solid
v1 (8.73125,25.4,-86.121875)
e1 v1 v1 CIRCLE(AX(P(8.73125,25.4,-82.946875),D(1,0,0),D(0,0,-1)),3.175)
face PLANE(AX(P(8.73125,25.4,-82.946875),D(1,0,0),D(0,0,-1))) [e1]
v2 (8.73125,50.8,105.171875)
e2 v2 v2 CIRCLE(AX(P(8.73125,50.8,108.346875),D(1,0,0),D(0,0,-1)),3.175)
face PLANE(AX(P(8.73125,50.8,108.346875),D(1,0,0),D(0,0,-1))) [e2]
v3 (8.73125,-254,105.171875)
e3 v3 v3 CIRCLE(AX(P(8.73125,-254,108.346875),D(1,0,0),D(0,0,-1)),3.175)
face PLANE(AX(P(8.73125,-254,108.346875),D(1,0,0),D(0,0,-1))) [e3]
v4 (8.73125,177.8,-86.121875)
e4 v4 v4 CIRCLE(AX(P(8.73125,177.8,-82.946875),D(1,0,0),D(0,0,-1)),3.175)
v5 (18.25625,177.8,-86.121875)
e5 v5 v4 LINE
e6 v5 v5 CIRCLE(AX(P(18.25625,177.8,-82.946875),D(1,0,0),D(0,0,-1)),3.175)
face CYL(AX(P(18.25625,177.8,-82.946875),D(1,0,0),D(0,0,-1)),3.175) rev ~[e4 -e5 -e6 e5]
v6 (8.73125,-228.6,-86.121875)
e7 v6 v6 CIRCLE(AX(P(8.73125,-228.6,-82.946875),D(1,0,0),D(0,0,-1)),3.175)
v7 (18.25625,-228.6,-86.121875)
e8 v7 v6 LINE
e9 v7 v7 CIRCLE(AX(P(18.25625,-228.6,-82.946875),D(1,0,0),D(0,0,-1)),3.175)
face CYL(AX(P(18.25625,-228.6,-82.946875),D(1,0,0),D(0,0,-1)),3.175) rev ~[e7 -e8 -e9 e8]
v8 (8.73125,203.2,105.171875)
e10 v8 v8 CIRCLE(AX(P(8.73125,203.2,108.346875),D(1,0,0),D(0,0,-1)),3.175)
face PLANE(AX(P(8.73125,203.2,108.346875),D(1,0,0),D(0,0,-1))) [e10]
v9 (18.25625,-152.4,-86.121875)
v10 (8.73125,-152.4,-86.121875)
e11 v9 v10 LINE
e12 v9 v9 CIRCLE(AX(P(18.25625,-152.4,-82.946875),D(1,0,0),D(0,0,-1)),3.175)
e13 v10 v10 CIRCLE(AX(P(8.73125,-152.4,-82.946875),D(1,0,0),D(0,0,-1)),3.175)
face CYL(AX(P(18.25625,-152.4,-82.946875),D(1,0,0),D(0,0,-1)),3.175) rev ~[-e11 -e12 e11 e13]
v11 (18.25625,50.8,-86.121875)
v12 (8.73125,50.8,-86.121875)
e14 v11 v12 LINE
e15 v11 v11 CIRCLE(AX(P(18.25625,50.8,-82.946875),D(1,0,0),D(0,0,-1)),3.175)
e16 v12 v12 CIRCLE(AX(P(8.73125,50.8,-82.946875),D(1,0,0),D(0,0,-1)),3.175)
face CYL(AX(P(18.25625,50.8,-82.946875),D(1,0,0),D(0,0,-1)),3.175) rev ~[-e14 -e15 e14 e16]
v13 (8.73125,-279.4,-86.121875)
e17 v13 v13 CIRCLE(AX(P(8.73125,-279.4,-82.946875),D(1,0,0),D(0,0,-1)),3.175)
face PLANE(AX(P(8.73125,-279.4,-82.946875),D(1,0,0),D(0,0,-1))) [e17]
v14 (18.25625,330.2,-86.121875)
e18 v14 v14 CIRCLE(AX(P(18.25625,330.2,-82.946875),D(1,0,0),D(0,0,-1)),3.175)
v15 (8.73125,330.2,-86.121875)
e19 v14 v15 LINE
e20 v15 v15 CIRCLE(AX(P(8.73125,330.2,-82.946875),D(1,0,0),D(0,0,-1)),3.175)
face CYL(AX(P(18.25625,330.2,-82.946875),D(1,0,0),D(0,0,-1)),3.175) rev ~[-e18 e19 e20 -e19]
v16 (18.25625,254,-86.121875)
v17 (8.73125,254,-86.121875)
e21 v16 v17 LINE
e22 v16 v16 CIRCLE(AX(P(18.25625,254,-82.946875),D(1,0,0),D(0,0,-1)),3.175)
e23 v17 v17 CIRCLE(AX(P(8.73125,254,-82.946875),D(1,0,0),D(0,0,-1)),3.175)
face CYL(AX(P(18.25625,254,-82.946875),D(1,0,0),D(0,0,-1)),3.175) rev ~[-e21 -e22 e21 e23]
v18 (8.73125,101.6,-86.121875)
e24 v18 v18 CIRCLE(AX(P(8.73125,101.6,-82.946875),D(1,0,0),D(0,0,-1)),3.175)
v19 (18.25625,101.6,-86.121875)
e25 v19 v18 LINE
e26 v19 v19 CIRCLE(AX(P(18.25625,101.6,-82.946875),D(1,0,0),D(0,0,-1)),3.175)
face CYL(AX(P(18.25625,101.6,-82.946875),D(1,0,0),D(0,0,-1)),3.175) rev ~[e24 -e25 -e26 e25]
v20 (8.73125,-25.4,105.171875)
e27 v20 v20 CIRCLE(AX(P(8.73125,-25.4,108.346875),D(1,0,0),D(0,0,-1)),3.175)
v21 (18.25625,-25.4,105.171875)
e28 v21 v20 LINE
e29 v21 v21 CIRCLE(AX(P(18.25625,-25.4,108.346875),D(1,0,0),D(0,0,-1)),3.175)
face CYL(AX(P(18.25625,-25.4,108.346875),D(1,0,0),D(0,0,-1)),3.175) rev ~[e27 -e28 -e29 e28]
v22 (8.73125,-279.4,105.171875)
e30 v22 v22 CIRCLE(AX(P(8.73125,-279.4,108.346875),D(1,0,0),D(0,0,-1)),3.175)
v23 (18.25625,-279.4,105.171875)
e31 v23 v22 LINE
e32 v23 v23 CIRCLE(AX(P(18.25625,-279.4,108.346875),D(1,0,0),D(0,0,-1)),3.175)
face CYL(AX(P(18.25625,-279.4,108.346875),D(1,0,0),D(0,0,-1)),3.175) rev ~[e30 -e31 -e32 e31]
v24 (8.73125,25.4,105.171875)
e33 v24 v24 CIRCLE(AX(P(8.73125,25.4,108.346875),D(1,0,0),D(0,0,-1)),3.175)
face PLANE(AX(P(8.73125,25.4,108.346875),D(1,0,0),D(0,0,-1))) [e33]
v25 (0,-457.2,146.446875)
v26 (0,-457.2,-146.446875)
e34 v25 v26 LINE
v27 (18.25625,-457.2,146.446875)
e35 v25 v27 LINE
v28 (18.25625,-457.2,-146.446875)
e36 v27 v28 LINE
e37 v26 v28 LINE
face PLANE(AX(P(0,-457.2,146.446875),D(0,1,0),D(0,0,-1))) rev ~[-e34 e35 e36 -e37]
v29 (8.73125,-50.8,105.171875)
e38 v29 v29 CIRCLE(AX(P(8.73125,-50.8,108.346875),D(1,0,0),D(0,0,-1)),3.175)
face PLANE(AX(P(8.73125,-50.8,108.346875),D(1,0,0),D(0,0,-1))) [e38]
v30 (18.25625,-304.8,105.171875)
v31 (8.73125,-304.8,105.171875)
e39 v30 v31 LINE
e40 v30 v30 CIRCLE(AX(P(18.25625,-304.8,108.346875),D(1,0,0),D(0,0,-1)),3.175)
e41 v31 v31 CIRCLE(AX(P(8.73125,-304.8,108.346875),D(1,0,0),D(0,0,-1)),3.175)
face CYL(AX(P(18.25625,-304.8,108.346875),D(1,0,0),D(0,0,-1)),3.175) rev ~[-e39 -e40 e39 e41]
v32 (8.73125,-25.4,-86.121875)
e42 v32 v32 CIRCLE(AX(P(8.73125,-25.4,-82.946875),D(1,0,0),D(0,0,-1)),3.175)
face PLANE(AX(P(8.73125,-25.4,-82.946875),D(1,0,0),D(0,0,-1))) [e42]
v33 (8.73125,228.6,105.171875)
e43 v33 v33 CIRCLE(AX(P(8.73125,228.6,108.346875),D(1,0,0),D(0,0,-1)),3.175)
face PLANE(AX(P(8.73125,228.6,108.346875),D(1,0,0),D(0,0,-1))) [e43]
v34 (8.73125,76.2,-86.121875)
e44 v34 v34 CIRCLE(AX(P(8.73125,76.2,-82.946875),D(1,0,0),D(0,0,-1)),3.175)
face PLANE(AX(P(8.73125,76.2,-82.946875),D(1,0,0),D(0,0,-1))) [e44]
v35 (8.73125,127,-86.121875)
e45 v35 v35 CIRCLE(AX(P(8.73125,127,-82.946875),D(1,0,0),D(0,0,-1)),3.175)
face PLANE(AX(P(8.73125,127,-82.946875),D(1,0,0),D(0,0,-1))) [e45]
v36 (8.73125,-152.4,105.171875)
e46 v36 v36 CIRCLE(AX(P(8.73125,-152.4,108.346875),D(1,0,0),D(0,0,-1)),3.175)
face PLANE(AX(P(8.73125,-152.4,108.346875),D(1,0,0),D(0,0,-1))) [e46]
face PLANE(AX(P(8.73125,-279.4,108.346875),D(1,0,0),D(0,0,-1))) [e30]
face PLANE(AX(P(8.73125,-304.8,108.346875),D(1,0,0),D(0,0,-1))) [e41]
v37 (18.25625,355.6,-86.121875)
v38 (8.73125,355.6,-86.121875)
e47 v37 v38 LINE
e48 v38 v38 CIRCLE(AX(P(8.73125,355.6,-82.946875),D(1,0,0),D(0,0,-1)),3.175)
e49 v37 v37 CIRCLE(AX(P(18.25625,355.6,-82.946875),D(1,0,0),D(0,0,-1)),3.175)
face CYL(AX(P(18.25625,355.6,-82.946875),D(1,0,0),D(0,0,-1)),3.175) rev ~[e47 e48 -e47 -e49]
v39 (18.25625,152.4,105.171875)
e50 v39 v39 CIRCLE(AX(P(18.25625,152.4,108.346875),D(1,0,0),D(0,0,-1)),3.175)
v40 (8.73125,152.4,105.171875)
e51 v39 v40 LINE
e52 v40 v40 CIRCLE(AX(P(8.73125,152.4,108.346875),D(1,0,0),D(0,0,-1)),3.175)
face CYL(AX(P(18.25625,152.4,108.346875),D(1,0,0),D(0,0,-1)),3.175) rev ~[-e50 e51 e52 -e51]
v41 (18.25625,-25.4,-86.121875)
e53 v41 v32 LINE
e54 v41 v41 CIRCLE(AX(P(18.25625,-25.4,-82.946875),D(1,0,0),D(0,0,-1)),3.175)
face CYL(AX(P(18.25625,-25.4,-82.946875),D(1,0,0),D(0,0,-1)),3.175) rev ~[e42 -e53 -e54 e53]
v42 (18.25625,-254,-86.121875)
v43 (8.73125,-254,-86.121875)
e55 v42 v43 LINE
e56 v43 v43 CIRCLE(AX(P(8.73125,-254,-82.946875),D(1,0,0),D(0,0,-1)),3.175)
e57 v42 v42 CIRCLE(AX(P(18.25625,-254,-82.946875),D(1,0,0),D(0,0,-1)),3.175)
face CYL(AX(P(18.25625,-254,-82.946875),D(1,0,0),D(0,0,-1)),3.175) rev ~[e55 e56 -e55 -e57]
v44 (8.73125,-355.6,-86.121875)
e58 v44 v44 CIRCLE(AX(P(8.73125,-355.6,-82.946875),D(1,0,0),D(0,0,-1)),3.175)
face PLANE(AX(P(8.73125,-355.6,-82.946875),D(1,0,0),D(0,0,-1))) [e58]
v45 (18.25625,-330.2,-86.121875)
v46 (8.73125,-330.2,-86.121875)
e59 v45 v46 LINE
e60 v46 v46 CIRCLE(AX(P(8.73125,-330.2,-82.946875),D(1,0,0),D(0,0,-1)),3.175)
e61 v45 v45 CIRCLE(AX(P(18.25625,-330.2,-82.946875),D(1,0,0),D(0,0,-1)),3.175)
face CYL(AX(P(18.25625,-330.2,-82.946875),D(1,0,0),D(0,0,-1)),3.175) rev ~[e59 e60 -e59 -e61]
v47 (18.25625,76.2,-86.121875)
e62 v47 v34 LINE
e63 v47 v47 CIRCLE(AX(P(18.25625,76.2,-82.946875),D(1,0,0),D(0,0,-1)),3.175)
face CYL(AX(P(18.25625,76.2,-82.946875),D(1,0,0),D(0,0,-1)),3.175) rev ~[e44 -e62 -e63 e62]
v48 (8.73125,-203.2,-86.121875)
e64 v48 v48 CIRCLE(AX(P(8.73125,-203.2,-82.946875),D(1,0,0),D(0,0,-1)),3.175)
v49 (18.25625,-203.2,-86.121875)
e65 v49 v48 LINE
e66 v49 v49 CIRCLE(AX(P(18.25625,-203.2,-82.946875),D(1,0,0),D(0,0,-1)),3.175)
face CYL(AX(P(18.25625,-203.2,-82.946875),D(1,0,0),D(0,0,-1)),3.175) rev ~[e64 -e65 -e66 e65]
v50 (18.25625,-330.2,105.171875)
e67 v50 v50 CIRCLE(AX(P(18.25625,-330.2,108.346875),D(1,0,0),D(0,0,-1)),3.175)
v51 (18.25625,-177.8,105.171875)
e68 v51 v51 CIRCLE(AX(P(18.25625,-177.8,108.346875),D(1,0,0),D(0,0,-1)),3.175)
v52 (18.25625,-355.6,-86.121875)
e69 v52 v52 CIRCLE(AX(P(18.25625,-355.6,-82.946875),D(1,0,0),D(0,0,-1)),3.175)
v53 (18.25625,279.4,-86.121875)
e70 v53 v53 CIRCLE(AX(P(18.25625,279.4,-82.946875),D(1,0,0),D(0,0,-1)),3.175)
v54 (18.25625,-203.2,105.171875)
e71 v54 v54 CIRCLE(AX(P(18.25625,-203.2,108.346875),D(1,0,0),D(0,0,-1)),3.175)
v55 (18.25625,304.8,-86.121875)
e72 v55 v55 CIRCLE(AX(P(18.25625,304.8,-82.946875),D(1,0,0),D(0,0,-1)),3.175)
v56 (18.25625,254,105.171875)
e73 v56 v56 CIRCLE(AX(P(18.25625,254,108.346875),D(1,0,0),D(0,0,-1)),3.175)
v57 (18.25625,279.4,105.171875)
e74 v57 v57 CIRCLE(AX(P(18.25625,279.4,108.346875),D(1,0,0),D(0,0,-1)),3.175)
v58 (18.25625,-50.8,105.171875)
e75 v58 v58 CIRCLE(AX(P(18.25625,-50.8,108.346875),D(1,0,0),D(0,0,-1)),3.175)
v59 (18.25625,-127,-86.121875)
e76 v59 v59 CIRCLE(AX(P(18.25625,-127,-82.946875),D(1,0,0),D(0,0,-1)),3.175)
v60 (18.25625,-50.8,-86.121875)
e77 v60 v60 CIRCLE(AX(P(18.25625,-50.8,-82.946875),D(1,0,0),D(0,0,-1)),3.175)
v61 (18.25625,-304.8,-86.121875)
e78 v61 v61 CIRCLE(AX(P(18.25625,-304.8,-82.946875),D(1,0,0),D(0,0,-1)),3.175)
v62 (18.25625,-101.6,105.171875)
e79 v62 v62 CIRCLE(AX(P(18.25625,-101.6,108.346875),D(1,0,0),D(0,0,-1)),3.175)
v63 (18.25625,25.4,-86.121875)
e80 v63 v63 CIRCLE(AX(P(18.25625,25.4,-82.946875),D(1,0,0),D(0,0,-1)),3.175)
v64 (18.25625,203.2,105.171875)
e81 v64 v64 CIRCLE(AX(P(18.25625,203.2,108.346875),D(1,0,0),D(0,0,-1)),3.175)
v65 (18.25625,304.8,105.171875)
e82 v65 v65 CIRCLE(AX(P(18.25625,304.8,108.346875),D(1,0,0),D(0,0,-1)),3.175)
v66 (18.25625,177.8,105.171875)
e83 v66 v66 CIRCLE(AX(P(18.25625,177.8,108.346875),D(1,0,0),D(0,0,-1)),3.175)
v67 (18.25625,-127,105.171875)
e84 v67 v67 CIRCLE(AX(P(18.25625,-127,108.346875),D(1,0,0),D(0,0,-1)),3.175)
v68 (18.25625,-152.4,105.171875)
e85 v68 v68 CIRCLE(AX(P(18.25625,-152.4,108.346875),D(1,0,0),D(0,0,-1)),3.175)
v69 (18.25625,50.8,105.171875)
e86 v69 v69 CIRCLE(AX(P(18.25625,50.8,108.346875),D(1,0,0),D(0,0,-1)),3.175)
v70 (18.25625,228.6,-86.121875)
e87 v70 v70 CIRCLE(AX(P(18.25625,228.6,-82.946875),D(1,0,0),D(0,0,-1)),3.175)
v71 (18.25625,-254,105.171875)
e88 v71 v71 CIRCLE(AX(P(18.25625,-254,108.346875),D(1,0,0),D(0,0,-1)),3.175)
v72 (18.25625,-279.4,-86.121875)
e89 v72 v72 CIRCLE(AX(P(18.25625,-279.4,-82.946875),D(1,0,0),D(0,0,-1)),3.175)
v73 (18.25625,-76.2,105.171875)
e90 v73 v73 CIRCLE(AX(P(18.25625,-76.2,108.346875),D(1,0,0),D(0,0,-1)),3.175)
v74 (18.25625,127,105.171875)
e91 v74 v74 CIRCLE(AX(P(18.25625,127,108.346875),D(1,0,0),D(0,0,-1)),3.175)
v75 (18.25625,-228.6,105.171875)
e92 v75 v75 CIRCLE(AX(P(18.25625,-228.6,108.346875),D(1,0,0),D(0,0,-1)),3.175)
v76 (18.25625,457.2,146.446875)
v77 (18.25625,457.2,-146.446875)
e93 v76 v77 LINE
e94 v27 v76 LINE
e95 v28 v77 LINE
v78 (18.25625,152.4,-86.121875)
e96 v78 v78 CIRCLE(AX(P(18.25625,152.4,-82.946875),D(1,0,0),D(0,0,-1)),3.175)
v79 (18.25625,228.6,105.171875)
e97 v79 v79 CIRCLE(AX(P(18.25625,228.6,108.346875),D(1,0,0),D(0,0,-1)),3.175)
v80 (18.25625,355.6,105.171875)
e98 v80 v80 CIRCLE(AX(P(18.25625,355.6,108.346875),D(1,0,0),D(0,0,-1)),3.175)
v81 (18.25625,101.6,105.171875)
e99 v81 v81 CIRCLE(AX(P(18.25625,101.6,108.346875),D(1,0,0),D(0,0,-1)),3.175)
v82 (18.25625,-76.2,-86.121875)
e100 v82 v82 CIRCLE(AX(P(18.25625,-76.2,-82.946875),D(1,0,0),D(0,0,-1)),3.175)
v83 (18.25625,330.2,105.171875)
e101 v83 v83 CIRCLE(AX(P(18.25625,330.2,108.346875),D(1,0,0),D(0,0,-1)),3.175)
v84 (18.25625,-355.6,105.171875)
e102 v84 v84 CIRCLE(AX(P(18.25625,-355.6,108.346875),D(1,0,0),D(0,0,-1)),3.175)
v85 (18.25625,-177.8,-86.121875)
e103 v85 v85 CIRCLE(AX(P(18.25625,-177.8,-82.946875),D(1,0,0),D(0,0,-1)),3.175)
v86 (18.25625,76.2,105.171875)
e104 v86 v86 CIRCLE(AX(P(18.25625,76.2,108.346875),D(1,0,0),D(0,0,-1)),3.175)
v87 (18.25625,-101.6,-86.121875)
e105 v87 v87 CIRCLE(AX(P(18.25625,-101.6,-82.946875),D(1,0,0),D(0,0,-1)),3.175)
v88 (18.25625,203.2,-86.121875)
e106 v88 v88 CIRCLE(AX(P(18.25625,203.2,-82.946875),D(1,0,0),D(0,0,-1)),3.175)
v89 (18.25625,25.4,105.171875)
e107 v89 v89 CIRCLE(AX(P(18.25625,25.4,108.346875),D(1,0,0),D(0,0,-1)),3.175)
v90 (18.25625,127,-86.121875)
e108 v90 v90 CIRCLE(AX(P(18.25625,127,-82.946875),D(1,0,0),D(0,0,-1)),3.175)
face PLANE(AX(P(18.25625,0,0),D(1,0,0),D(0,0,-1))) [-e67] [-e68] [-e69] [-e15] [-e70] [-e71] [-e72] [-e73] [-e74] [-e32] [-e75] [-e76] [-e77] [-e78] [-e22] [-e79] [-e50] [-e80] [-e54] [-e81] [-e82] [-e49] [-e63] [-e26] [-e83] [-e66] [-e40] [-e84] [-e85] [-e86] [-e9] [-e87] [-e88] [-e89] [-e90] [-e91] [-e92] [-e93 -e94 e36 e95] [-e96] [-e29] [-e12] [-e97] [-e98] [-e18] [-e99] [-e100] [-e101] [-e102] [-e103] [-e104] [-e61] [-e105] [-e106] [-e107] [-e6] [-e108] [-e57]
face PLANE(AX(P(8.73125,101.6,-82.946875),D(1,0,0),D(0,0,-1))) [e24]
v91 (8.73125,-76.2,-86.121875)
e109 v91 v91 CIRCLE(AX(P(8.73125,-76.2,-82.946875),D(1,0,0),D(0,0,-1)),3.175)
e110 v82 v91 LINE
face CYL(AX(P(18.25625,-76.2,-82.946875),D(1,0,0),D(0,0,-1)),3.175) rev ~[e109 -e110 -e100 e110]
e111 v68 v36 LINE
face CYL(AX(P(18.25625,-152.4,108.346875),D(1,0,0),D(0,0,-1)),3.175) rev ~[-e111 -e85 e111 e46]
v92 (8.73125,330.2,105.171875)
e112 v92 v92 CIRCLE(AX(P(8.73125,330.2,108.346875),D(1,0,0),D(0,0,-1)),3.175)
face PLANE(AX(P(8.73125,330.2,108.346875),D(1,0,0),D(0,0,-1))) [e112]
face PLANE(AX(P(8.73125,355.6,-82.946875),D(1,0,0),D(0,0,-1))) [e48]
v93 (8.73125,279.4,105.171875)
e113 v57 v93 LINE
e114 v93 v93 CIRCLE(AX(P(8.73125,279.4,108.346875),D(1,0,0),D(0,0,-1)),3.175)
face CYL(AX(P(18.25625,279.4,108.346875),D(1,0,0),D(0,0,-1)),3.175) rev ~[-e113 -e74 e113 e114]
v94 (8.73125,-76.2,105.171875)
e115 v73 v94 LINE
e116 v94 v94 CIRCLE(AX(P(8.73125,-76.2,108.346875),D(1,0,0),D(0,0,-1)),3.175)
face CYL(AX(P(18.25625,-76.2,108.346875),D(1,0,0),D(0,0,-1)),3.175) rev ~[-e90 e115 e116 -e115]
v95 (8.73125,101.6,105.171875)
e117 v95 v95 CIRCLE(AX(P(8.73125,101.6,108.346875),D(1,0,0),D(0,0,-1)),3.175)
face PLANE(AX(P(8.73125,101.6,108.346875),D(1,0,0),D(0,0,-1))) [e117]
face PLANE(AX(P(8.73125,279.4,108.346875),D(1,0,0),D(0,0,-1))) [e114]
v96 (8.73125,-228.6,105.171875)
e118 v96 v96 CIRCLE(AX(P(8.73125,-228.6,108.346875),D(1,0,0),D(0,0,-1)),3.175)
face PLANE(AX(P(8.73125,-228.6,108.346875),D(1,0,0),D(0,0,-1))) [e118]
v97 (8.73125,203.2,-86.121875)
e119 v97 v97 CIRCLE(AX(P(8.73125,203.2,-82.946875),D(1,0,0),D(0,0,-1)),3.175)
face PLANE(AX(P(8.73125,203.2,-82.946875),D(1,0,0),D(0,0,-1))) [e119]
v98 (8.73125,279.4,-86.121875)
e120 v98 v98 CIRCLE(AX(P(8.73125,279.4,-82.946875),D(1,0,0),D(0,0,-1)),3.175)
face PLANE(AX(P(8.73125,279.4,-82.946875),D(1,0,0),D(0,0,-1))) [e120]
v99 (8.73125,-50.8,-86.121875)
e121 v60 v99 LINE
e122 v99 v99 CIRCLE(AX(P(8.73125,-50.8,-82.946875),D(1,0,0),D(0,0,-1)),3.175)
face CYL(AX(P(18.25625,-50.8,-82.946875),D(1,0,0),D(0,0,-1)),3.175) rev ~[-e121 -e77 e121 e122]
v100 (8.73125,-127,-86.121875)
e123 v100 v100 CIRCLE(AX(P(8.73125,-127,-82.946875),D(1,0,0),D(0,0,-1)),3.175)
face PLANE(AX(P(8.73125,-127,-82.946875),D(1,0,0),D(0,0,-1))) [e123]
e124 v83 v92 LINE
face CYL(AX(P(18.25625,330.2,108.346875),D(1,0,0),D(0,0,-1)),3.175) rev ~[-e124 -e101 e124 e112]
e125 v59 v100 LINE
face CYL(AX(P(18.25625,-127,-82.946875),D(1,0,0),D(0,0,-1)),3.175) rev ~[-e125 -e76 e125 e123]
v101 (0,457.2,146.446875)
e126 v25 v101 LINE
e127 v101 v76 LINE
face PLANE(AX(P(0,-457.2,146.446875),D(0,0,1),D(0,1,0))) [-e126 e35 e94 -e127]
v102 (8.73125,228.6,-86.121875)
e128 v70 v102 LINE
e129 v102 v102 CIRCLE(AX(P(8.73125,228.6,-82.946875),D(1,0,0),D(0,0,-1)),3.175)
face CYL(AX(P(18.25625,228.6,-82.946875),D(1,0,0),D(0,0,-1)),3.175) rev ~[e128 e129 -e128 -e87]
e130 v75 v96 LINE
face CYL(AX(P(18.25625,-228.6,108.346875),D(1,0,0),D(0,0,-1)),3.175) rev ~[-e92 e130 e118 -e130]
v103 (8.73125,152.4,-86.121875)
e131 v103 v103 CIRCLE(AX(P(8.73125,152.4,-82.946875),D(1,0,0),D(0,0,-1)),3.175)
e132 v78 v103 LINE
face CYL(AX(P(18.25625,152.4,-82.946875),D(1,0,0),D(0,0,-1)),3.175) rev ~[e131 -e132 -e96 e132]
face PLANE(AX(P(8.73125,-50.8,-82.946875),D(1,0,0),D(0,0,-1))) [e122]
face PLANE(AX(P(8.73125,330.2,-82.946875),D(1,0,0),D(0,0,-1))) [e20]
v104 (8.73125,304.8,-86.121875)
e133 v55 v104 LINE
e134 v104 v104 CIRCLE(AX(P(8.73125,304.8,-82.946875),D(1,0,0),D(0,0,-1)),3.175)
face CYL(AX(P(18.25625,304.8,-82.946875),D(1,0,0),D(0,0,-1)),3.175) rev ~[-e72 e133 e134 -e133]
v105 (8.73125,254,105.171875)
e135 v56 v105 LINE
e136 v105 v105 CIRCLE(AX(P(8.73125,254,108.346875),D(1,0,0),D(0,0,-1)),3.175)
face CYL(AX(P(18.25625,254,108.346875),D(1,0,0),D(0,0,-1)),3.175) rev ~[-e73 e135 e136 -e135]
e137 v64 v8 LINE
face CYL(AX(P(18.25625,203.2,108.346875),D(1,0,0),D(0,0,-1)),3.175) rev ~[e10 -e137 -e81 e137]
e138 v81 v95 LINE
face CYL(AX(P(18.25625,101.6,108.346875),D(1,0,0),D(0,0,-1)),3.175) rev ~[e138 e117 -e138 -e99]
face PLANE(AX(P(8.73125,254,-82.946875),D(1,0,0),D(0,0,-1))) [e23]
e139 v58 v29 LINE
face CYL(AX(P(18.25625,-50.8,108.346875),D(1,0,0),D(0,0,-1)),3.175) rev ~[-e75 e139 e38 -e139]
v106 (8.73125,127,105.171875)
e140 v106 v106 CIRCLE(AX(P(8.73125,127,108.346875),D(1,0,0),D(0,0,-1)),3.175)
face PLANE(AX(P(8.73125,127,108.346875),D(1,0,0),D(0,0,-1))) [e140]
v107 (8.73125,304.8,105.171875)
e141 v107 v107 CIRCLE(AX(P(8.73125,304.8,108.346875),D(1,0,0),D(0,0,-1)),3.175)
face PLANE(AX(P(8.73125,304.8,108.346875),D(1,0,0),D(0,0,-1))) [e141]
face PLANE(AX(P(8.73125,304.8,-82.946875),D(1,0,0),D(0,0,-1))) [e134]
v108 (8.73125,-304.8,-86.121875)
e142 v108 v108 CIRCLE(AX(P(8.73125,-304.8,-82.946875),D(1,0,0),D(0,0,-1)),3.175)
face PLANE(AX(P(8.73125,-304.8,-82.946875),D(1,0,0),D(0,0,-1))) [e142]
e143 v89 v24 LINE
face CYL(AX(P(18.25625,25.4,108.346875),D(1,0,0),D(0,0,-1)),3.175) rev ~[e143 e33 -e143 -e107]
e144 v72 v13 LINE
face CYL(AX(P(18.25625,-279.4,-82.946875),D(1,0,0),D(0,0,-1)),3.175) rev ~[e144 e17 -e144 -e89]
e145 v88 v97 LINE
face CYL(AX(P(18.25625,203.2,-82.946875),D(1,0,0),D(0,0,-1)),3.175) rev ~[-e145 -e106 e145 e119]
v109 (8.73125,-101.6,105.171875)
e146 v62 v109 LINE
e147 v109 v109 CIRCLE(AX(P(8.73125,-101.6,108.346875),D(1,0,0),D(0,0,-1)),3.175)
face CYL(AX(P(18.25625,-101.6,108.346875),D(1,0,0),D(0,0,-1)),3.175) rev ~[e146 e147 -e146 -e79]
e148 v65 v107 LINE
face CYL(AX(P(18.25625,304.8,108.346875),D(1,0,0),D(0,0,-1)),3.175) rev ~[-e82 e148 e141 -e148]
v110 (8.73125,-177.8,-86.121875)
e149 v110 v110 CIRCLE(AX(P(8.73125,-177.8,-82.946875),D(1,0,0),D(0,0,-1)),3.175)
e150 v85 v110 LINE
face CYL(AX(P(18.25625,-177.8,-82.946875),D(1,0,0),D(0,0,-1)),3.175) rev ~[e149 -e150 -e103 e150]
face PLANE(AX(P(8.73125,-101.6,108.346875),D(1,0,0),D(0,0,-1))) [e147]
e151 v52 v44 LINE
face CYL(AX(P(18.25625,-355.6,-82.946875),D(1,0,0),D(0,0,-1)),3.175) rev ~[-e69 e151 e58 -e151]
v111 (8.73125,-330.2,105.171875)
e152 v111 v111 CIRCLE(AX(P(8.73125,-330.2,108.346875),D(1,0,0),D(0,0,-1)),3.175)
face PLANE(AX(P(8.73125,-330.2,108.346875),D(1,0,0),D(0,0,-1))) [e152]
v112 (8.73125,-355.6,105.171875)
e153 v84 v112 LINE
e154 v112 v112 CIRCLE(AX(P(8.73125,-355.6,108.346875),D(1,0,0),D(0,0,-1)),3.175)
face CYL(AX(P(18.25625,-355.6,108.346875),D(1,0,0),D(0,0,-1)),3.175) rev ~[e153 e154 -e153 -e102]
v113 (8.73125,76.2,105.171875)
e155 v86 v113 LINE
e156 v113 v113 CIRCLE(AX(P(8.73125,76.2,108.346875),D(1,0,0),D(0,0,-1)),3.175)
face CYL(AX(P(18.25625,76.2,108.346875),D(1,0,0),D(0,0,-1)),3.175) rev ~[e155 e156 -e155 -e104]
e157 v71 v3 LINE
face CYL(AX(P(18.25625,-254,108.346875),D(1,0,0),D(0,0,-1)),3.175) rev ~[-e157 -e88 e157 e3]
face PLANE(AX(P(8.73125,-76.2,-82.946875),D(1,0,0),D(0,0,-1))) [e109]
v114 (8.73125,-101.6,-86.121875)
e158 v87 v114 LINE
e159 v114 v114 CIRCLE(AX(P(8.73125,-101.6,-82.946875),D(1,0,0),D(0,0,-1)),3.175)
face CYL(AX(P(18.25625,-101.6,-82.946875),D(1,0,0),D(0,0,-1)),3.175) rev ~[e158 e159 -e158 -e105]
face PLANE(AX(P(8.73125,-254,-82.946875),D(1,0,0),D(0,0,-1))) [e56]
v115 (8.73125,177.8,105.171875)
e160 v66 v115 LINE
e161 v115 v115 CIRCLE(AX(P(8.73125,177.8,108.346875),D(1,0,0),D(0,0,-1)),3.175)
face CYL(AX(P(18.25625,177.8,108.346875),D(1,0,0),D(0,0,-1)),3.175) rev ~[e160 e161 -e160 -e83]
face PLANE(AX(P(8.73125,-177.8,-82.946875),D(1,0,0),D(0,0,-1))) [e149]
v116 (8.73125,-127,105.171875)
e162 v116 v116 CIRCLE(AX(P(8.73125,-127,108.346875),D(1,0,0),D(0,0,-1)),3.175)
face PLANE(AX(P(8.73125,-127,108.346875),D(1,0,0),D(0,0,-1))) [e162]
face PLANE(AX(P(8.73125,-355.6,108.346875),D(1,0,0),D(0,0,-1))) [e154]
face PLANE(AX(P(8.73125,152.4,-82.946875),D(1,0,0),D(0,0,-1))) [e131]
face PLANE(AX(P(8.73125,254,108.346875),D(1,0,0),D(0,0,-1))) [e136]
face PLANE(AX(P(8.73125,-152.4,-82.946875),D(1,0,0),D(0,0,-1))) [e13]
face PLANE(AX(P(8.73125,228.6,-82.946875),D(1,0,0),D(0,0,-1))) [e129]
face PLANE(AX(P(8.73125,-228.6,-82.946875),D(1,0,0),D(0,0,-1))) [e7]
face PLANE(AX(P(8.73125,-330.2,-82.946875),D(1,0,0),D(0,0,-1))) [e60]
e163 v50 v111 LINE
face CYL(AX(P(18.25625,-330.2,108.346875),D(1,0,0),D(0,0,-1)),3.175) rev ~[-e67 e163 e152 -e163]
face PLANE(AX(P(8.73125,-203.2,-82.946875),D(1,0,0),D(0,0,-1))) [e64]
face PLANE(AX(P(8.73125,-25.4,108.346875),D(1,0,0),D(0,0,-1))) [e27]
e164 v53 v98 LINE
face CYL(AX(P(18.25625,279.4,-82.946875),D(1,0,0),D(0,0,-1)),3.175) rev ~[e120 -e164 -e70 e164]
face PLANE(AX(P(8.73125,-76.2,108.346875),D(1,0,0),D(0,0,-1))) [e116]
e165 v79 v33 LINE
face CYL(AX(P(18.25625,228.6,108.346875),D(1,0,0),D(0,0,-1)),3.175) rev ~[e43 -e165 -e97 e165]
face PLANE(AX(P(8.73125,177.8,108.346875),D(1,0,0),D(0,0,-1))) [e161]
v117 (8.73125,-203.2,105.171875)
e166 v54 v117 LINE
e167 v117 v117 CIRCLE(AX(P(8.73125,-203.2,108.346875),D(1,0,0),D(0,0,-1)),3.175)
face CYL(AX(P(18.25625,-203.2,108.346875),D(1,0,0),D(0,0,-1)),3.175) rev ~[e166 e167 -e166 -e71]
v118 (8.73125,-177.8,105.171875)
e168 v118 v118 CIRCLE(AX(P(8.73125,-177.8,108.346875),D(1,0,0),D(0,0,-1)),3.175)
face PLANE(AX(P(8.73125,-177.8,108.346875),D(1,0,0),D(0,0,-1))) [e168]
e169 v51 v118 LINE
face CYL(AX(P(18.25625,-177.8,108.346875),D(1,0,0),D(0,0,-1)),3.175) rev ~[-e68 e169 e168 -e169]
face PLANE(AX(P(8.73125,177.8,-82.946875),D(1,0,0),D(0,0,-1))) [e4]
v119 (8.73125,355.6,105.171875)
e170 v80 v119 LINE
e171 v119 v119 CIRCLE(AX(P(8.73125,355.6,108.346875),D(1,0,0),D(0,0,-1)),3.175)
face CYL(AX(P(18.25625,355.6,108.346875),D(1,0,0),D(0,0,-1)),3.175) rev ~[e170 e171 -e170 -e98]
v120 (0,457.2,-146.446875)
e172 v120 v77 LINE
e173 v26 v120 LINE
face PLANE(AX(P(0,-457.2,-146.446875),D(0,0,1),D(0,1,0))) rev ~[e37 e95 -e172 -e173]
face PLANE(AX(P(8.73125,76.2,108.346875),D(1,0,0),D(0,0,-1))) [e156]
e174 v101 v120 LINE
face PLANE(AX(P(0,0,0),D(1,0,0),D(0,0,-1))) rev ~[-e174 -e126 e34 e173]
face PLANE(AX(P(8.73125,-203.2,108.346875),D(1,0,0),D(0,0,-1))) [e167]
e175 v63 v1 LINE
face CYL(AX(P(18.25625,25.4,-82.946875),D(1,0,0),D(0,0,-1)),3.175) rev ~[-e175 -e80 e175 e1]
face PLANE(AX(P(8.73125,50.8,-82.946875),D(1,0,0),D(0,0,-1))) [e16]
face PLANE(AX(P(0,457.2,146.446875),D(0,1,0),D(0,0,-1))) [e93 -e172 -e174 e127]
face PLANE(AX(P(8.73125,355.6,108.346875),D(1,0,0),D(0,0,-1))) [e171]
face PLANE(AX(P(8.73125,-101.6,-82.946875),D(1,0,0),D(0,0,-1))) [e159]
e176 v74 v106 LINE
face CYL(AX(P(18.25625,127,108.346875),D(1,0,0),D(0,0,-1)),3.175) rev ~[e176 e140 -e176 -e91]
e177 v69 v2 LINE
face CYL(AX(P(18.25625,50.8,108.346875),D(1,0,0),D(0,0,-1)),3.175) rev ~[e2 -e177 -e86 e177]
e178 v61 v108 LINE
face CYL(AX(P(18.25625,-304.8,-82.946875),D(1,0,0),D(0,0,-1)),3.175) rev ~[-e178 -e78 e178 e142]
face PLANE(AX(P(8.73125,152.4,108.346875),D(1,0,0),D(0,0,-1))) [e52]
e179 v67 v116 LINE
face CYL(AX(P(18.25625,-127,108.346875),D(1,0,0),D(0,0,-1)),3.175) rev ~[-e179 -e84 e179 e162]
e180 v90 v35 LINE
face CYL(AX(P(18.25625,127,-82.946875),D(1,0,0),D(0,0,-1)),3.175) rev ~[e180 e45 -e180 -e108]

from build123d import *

# Parameters (mm, degrees)
SKETCH1_W           = 292.89375
SKETCH1_H           = 914.4
BOSS_EXTRUDE1_DEPTH = 18.25625
SKETCH3_R           = 3.175
CUT_EXTRUDE1_DEPTH  = 9.525


with BuildPart() as part:
    # Sketch1 → Boss-Extrude1 (new body)
    with BuildSketch(Plane(origin=(0, 0, 0), x_dir=(0, 0, -1), z_dir=(1, 0, 0))):
        Rectangle(SKETCH1_W, SKETCH1_H)
    extrude(amount=BOSS_EXTRUDE1_DEPTH)

    # Sketch3 → Cut-Extrude1 (cut)
    with BuildSketch(Plane(origin=(18.25625, 0, 0), x_dir=(0, 0, -1), z_dir=(1, 0, 0))):
        with Locations((-108.346875, 355.6)):
            Circle(SKETCH3_R)
        with Locations((-108.346875, 330.2)):
            Circle(SKETCH3_R)
        with Locations((-108.346875, 304.8)):
            Circle(SKETCH3_R)
        with Locations((-108.346875, 279.4)):
            Circle(SKETCH3_R)
        with Locations((-108.346875, 254)):
            Circle(SKETCH3_R)
        with Locations((-108.346875, 228.6)):
            Circle(SKETCH3_R)
        with Locations((-108.346875, 203.2)):
            Circle(SKETCH3_R)
        with Locations((-108.346875, 177.8)):
            Circle(SKETCH3_R)
        with Locations((-108.346875, 152.4)):
            Circle(SKETCH3_R)
        with Locations((-108.346875, 127)):
            Circle(SKETCH3_R)
        with Locations((-108.346875, 101.6)):
            Circle(SKETCH3_R)
        with Locations((-108.346875, 76.2)):
            Circle(SKETCH3_R)
        with Locations((-108.346875, 50.8)):
            Circle(SKETCH3_R)
        with Locations((-108.346875, 25.4)):
            Circle(SKETCH3_R)
        with Locations((82.946875, 25.4)):
            Circle(SKETCH3_R)
        with Locations((82.946875, 50.8)):
            Circle(SKETCH3_R)
        with Locations((82.946875, 76.2)):
            Circle(SKETCH3_R)
        with Locations((82.946875, 101.6)):
            Circle(SKETCH3_R)
        with Locations((82.946875, 127)):
            Circle(SKETCH3_R)
        with Locations((82.946875, 152.4)):
            Circle(SKETCH3_R)
        with Locations((82.946875, 177.8)):
            Circle(SKETCH3_R)
        with Locations((82.946875, 203.2)):
            Circle(SKETCH3_R)
        with Locations((82.946875, 228.6)):
            Circle(SKETCH3_R)
        with Locations((82.946875, 254)):
            Circle(SKETCH3_R)
        with Locations((82.946875, 279.4)):
            Circle(SKETCH3_R)
        with Locations((82.946875, 304.8)):
            Circle(SKETCH3_R)
        with Locations((82.946875, 330.2)):
            Circle(SKETCH3_R)
        with Locations((82.946875, 355.6)):
            Circle(SKETCH3_R)
        with Locations((82.946875, -355.6)):
            Circle(SKETCH3_R)
        with Locations((82.946875, -330.2)):
            Circle(SKETCH3_R)
        with Locations((82.946875, -304.8)):
            Circle(SKETCH3_R)
        with Locations((82.946875, -279.4)):
            Circle(SKETCH3_R)
        with Locations((82.946875, -254)):
            Circle(SKETCH3_R)
        with Locations((82.946875, -228.6)):
            Circle(SKETCH3_R)
        with Locations((82.946875, -203.2)):
            Circle(SKETCH3_R)
        with Locations((82.946875, -177.8)):
            Circle(SKETCH3_R)
        with Locations((82.946875, -152.4)):
            Circle(SKETCH3_R)
        with Locations((82.946875, -127)):
            Circle(SKETCH3_R)
        with Locations((82.946875, -101.6)):
            Circle(SKETCH3_R)
        with Locations((82.946875, -76.2)):
            Circle(SKETCH3_R)
        with Locations((82.946875, -50.8)):
            Circle(SKETCH3_R)
        with Locations((82.946875, -25.4)):
            Circle(SKETCH3_R)
        with Locations((-108.346875, -25.4)):
            Circle(SKETCH3_R)
        with Locations((-108.346875, -50.8)):
            Circle(SKETCH3_R)
        with Locations((-108.346875, -76.2)):
            Circle(SKETCH3_R)
        with Locations((-108.346875, -101.6)):
            Circle(SKETCH3_R)
        with Locations((-108.346875, -127)):
            Circle(SKETCH3_R)
        with Locations((-108.346875, -152.4)):
            Circle(SKETCH3_R)
        with Locations((-108.346875, -177.8)):
            Circle(SKETCH3_R)
        with Locations((-108.346875, -203.2)):
            Circle(SKETCH3_R)
        with Locations((-108.346875, -228.6)):
            Circle(SKETCH3_R)
        with Locations((-108.346875, -254)):
            Circle(SKETCH3_R)
        with Locations((-108.346875, -279.4)):
            Circle(SKETCH3_R)
        with Locations((-108.346875, -304.8)):
            Circle(SKETCH3_R)
        with Locations((-108.346875, -330.2)):
            Circle(SKETCH3_R)
        with Locations((-108.346875, -355.6)):
            Circle(SKETCH3_R)
    extrude(amount=-CUT_EXTRUDE1_DEPTH, mode=Mode.SUBTRACT)


solid = part.part
